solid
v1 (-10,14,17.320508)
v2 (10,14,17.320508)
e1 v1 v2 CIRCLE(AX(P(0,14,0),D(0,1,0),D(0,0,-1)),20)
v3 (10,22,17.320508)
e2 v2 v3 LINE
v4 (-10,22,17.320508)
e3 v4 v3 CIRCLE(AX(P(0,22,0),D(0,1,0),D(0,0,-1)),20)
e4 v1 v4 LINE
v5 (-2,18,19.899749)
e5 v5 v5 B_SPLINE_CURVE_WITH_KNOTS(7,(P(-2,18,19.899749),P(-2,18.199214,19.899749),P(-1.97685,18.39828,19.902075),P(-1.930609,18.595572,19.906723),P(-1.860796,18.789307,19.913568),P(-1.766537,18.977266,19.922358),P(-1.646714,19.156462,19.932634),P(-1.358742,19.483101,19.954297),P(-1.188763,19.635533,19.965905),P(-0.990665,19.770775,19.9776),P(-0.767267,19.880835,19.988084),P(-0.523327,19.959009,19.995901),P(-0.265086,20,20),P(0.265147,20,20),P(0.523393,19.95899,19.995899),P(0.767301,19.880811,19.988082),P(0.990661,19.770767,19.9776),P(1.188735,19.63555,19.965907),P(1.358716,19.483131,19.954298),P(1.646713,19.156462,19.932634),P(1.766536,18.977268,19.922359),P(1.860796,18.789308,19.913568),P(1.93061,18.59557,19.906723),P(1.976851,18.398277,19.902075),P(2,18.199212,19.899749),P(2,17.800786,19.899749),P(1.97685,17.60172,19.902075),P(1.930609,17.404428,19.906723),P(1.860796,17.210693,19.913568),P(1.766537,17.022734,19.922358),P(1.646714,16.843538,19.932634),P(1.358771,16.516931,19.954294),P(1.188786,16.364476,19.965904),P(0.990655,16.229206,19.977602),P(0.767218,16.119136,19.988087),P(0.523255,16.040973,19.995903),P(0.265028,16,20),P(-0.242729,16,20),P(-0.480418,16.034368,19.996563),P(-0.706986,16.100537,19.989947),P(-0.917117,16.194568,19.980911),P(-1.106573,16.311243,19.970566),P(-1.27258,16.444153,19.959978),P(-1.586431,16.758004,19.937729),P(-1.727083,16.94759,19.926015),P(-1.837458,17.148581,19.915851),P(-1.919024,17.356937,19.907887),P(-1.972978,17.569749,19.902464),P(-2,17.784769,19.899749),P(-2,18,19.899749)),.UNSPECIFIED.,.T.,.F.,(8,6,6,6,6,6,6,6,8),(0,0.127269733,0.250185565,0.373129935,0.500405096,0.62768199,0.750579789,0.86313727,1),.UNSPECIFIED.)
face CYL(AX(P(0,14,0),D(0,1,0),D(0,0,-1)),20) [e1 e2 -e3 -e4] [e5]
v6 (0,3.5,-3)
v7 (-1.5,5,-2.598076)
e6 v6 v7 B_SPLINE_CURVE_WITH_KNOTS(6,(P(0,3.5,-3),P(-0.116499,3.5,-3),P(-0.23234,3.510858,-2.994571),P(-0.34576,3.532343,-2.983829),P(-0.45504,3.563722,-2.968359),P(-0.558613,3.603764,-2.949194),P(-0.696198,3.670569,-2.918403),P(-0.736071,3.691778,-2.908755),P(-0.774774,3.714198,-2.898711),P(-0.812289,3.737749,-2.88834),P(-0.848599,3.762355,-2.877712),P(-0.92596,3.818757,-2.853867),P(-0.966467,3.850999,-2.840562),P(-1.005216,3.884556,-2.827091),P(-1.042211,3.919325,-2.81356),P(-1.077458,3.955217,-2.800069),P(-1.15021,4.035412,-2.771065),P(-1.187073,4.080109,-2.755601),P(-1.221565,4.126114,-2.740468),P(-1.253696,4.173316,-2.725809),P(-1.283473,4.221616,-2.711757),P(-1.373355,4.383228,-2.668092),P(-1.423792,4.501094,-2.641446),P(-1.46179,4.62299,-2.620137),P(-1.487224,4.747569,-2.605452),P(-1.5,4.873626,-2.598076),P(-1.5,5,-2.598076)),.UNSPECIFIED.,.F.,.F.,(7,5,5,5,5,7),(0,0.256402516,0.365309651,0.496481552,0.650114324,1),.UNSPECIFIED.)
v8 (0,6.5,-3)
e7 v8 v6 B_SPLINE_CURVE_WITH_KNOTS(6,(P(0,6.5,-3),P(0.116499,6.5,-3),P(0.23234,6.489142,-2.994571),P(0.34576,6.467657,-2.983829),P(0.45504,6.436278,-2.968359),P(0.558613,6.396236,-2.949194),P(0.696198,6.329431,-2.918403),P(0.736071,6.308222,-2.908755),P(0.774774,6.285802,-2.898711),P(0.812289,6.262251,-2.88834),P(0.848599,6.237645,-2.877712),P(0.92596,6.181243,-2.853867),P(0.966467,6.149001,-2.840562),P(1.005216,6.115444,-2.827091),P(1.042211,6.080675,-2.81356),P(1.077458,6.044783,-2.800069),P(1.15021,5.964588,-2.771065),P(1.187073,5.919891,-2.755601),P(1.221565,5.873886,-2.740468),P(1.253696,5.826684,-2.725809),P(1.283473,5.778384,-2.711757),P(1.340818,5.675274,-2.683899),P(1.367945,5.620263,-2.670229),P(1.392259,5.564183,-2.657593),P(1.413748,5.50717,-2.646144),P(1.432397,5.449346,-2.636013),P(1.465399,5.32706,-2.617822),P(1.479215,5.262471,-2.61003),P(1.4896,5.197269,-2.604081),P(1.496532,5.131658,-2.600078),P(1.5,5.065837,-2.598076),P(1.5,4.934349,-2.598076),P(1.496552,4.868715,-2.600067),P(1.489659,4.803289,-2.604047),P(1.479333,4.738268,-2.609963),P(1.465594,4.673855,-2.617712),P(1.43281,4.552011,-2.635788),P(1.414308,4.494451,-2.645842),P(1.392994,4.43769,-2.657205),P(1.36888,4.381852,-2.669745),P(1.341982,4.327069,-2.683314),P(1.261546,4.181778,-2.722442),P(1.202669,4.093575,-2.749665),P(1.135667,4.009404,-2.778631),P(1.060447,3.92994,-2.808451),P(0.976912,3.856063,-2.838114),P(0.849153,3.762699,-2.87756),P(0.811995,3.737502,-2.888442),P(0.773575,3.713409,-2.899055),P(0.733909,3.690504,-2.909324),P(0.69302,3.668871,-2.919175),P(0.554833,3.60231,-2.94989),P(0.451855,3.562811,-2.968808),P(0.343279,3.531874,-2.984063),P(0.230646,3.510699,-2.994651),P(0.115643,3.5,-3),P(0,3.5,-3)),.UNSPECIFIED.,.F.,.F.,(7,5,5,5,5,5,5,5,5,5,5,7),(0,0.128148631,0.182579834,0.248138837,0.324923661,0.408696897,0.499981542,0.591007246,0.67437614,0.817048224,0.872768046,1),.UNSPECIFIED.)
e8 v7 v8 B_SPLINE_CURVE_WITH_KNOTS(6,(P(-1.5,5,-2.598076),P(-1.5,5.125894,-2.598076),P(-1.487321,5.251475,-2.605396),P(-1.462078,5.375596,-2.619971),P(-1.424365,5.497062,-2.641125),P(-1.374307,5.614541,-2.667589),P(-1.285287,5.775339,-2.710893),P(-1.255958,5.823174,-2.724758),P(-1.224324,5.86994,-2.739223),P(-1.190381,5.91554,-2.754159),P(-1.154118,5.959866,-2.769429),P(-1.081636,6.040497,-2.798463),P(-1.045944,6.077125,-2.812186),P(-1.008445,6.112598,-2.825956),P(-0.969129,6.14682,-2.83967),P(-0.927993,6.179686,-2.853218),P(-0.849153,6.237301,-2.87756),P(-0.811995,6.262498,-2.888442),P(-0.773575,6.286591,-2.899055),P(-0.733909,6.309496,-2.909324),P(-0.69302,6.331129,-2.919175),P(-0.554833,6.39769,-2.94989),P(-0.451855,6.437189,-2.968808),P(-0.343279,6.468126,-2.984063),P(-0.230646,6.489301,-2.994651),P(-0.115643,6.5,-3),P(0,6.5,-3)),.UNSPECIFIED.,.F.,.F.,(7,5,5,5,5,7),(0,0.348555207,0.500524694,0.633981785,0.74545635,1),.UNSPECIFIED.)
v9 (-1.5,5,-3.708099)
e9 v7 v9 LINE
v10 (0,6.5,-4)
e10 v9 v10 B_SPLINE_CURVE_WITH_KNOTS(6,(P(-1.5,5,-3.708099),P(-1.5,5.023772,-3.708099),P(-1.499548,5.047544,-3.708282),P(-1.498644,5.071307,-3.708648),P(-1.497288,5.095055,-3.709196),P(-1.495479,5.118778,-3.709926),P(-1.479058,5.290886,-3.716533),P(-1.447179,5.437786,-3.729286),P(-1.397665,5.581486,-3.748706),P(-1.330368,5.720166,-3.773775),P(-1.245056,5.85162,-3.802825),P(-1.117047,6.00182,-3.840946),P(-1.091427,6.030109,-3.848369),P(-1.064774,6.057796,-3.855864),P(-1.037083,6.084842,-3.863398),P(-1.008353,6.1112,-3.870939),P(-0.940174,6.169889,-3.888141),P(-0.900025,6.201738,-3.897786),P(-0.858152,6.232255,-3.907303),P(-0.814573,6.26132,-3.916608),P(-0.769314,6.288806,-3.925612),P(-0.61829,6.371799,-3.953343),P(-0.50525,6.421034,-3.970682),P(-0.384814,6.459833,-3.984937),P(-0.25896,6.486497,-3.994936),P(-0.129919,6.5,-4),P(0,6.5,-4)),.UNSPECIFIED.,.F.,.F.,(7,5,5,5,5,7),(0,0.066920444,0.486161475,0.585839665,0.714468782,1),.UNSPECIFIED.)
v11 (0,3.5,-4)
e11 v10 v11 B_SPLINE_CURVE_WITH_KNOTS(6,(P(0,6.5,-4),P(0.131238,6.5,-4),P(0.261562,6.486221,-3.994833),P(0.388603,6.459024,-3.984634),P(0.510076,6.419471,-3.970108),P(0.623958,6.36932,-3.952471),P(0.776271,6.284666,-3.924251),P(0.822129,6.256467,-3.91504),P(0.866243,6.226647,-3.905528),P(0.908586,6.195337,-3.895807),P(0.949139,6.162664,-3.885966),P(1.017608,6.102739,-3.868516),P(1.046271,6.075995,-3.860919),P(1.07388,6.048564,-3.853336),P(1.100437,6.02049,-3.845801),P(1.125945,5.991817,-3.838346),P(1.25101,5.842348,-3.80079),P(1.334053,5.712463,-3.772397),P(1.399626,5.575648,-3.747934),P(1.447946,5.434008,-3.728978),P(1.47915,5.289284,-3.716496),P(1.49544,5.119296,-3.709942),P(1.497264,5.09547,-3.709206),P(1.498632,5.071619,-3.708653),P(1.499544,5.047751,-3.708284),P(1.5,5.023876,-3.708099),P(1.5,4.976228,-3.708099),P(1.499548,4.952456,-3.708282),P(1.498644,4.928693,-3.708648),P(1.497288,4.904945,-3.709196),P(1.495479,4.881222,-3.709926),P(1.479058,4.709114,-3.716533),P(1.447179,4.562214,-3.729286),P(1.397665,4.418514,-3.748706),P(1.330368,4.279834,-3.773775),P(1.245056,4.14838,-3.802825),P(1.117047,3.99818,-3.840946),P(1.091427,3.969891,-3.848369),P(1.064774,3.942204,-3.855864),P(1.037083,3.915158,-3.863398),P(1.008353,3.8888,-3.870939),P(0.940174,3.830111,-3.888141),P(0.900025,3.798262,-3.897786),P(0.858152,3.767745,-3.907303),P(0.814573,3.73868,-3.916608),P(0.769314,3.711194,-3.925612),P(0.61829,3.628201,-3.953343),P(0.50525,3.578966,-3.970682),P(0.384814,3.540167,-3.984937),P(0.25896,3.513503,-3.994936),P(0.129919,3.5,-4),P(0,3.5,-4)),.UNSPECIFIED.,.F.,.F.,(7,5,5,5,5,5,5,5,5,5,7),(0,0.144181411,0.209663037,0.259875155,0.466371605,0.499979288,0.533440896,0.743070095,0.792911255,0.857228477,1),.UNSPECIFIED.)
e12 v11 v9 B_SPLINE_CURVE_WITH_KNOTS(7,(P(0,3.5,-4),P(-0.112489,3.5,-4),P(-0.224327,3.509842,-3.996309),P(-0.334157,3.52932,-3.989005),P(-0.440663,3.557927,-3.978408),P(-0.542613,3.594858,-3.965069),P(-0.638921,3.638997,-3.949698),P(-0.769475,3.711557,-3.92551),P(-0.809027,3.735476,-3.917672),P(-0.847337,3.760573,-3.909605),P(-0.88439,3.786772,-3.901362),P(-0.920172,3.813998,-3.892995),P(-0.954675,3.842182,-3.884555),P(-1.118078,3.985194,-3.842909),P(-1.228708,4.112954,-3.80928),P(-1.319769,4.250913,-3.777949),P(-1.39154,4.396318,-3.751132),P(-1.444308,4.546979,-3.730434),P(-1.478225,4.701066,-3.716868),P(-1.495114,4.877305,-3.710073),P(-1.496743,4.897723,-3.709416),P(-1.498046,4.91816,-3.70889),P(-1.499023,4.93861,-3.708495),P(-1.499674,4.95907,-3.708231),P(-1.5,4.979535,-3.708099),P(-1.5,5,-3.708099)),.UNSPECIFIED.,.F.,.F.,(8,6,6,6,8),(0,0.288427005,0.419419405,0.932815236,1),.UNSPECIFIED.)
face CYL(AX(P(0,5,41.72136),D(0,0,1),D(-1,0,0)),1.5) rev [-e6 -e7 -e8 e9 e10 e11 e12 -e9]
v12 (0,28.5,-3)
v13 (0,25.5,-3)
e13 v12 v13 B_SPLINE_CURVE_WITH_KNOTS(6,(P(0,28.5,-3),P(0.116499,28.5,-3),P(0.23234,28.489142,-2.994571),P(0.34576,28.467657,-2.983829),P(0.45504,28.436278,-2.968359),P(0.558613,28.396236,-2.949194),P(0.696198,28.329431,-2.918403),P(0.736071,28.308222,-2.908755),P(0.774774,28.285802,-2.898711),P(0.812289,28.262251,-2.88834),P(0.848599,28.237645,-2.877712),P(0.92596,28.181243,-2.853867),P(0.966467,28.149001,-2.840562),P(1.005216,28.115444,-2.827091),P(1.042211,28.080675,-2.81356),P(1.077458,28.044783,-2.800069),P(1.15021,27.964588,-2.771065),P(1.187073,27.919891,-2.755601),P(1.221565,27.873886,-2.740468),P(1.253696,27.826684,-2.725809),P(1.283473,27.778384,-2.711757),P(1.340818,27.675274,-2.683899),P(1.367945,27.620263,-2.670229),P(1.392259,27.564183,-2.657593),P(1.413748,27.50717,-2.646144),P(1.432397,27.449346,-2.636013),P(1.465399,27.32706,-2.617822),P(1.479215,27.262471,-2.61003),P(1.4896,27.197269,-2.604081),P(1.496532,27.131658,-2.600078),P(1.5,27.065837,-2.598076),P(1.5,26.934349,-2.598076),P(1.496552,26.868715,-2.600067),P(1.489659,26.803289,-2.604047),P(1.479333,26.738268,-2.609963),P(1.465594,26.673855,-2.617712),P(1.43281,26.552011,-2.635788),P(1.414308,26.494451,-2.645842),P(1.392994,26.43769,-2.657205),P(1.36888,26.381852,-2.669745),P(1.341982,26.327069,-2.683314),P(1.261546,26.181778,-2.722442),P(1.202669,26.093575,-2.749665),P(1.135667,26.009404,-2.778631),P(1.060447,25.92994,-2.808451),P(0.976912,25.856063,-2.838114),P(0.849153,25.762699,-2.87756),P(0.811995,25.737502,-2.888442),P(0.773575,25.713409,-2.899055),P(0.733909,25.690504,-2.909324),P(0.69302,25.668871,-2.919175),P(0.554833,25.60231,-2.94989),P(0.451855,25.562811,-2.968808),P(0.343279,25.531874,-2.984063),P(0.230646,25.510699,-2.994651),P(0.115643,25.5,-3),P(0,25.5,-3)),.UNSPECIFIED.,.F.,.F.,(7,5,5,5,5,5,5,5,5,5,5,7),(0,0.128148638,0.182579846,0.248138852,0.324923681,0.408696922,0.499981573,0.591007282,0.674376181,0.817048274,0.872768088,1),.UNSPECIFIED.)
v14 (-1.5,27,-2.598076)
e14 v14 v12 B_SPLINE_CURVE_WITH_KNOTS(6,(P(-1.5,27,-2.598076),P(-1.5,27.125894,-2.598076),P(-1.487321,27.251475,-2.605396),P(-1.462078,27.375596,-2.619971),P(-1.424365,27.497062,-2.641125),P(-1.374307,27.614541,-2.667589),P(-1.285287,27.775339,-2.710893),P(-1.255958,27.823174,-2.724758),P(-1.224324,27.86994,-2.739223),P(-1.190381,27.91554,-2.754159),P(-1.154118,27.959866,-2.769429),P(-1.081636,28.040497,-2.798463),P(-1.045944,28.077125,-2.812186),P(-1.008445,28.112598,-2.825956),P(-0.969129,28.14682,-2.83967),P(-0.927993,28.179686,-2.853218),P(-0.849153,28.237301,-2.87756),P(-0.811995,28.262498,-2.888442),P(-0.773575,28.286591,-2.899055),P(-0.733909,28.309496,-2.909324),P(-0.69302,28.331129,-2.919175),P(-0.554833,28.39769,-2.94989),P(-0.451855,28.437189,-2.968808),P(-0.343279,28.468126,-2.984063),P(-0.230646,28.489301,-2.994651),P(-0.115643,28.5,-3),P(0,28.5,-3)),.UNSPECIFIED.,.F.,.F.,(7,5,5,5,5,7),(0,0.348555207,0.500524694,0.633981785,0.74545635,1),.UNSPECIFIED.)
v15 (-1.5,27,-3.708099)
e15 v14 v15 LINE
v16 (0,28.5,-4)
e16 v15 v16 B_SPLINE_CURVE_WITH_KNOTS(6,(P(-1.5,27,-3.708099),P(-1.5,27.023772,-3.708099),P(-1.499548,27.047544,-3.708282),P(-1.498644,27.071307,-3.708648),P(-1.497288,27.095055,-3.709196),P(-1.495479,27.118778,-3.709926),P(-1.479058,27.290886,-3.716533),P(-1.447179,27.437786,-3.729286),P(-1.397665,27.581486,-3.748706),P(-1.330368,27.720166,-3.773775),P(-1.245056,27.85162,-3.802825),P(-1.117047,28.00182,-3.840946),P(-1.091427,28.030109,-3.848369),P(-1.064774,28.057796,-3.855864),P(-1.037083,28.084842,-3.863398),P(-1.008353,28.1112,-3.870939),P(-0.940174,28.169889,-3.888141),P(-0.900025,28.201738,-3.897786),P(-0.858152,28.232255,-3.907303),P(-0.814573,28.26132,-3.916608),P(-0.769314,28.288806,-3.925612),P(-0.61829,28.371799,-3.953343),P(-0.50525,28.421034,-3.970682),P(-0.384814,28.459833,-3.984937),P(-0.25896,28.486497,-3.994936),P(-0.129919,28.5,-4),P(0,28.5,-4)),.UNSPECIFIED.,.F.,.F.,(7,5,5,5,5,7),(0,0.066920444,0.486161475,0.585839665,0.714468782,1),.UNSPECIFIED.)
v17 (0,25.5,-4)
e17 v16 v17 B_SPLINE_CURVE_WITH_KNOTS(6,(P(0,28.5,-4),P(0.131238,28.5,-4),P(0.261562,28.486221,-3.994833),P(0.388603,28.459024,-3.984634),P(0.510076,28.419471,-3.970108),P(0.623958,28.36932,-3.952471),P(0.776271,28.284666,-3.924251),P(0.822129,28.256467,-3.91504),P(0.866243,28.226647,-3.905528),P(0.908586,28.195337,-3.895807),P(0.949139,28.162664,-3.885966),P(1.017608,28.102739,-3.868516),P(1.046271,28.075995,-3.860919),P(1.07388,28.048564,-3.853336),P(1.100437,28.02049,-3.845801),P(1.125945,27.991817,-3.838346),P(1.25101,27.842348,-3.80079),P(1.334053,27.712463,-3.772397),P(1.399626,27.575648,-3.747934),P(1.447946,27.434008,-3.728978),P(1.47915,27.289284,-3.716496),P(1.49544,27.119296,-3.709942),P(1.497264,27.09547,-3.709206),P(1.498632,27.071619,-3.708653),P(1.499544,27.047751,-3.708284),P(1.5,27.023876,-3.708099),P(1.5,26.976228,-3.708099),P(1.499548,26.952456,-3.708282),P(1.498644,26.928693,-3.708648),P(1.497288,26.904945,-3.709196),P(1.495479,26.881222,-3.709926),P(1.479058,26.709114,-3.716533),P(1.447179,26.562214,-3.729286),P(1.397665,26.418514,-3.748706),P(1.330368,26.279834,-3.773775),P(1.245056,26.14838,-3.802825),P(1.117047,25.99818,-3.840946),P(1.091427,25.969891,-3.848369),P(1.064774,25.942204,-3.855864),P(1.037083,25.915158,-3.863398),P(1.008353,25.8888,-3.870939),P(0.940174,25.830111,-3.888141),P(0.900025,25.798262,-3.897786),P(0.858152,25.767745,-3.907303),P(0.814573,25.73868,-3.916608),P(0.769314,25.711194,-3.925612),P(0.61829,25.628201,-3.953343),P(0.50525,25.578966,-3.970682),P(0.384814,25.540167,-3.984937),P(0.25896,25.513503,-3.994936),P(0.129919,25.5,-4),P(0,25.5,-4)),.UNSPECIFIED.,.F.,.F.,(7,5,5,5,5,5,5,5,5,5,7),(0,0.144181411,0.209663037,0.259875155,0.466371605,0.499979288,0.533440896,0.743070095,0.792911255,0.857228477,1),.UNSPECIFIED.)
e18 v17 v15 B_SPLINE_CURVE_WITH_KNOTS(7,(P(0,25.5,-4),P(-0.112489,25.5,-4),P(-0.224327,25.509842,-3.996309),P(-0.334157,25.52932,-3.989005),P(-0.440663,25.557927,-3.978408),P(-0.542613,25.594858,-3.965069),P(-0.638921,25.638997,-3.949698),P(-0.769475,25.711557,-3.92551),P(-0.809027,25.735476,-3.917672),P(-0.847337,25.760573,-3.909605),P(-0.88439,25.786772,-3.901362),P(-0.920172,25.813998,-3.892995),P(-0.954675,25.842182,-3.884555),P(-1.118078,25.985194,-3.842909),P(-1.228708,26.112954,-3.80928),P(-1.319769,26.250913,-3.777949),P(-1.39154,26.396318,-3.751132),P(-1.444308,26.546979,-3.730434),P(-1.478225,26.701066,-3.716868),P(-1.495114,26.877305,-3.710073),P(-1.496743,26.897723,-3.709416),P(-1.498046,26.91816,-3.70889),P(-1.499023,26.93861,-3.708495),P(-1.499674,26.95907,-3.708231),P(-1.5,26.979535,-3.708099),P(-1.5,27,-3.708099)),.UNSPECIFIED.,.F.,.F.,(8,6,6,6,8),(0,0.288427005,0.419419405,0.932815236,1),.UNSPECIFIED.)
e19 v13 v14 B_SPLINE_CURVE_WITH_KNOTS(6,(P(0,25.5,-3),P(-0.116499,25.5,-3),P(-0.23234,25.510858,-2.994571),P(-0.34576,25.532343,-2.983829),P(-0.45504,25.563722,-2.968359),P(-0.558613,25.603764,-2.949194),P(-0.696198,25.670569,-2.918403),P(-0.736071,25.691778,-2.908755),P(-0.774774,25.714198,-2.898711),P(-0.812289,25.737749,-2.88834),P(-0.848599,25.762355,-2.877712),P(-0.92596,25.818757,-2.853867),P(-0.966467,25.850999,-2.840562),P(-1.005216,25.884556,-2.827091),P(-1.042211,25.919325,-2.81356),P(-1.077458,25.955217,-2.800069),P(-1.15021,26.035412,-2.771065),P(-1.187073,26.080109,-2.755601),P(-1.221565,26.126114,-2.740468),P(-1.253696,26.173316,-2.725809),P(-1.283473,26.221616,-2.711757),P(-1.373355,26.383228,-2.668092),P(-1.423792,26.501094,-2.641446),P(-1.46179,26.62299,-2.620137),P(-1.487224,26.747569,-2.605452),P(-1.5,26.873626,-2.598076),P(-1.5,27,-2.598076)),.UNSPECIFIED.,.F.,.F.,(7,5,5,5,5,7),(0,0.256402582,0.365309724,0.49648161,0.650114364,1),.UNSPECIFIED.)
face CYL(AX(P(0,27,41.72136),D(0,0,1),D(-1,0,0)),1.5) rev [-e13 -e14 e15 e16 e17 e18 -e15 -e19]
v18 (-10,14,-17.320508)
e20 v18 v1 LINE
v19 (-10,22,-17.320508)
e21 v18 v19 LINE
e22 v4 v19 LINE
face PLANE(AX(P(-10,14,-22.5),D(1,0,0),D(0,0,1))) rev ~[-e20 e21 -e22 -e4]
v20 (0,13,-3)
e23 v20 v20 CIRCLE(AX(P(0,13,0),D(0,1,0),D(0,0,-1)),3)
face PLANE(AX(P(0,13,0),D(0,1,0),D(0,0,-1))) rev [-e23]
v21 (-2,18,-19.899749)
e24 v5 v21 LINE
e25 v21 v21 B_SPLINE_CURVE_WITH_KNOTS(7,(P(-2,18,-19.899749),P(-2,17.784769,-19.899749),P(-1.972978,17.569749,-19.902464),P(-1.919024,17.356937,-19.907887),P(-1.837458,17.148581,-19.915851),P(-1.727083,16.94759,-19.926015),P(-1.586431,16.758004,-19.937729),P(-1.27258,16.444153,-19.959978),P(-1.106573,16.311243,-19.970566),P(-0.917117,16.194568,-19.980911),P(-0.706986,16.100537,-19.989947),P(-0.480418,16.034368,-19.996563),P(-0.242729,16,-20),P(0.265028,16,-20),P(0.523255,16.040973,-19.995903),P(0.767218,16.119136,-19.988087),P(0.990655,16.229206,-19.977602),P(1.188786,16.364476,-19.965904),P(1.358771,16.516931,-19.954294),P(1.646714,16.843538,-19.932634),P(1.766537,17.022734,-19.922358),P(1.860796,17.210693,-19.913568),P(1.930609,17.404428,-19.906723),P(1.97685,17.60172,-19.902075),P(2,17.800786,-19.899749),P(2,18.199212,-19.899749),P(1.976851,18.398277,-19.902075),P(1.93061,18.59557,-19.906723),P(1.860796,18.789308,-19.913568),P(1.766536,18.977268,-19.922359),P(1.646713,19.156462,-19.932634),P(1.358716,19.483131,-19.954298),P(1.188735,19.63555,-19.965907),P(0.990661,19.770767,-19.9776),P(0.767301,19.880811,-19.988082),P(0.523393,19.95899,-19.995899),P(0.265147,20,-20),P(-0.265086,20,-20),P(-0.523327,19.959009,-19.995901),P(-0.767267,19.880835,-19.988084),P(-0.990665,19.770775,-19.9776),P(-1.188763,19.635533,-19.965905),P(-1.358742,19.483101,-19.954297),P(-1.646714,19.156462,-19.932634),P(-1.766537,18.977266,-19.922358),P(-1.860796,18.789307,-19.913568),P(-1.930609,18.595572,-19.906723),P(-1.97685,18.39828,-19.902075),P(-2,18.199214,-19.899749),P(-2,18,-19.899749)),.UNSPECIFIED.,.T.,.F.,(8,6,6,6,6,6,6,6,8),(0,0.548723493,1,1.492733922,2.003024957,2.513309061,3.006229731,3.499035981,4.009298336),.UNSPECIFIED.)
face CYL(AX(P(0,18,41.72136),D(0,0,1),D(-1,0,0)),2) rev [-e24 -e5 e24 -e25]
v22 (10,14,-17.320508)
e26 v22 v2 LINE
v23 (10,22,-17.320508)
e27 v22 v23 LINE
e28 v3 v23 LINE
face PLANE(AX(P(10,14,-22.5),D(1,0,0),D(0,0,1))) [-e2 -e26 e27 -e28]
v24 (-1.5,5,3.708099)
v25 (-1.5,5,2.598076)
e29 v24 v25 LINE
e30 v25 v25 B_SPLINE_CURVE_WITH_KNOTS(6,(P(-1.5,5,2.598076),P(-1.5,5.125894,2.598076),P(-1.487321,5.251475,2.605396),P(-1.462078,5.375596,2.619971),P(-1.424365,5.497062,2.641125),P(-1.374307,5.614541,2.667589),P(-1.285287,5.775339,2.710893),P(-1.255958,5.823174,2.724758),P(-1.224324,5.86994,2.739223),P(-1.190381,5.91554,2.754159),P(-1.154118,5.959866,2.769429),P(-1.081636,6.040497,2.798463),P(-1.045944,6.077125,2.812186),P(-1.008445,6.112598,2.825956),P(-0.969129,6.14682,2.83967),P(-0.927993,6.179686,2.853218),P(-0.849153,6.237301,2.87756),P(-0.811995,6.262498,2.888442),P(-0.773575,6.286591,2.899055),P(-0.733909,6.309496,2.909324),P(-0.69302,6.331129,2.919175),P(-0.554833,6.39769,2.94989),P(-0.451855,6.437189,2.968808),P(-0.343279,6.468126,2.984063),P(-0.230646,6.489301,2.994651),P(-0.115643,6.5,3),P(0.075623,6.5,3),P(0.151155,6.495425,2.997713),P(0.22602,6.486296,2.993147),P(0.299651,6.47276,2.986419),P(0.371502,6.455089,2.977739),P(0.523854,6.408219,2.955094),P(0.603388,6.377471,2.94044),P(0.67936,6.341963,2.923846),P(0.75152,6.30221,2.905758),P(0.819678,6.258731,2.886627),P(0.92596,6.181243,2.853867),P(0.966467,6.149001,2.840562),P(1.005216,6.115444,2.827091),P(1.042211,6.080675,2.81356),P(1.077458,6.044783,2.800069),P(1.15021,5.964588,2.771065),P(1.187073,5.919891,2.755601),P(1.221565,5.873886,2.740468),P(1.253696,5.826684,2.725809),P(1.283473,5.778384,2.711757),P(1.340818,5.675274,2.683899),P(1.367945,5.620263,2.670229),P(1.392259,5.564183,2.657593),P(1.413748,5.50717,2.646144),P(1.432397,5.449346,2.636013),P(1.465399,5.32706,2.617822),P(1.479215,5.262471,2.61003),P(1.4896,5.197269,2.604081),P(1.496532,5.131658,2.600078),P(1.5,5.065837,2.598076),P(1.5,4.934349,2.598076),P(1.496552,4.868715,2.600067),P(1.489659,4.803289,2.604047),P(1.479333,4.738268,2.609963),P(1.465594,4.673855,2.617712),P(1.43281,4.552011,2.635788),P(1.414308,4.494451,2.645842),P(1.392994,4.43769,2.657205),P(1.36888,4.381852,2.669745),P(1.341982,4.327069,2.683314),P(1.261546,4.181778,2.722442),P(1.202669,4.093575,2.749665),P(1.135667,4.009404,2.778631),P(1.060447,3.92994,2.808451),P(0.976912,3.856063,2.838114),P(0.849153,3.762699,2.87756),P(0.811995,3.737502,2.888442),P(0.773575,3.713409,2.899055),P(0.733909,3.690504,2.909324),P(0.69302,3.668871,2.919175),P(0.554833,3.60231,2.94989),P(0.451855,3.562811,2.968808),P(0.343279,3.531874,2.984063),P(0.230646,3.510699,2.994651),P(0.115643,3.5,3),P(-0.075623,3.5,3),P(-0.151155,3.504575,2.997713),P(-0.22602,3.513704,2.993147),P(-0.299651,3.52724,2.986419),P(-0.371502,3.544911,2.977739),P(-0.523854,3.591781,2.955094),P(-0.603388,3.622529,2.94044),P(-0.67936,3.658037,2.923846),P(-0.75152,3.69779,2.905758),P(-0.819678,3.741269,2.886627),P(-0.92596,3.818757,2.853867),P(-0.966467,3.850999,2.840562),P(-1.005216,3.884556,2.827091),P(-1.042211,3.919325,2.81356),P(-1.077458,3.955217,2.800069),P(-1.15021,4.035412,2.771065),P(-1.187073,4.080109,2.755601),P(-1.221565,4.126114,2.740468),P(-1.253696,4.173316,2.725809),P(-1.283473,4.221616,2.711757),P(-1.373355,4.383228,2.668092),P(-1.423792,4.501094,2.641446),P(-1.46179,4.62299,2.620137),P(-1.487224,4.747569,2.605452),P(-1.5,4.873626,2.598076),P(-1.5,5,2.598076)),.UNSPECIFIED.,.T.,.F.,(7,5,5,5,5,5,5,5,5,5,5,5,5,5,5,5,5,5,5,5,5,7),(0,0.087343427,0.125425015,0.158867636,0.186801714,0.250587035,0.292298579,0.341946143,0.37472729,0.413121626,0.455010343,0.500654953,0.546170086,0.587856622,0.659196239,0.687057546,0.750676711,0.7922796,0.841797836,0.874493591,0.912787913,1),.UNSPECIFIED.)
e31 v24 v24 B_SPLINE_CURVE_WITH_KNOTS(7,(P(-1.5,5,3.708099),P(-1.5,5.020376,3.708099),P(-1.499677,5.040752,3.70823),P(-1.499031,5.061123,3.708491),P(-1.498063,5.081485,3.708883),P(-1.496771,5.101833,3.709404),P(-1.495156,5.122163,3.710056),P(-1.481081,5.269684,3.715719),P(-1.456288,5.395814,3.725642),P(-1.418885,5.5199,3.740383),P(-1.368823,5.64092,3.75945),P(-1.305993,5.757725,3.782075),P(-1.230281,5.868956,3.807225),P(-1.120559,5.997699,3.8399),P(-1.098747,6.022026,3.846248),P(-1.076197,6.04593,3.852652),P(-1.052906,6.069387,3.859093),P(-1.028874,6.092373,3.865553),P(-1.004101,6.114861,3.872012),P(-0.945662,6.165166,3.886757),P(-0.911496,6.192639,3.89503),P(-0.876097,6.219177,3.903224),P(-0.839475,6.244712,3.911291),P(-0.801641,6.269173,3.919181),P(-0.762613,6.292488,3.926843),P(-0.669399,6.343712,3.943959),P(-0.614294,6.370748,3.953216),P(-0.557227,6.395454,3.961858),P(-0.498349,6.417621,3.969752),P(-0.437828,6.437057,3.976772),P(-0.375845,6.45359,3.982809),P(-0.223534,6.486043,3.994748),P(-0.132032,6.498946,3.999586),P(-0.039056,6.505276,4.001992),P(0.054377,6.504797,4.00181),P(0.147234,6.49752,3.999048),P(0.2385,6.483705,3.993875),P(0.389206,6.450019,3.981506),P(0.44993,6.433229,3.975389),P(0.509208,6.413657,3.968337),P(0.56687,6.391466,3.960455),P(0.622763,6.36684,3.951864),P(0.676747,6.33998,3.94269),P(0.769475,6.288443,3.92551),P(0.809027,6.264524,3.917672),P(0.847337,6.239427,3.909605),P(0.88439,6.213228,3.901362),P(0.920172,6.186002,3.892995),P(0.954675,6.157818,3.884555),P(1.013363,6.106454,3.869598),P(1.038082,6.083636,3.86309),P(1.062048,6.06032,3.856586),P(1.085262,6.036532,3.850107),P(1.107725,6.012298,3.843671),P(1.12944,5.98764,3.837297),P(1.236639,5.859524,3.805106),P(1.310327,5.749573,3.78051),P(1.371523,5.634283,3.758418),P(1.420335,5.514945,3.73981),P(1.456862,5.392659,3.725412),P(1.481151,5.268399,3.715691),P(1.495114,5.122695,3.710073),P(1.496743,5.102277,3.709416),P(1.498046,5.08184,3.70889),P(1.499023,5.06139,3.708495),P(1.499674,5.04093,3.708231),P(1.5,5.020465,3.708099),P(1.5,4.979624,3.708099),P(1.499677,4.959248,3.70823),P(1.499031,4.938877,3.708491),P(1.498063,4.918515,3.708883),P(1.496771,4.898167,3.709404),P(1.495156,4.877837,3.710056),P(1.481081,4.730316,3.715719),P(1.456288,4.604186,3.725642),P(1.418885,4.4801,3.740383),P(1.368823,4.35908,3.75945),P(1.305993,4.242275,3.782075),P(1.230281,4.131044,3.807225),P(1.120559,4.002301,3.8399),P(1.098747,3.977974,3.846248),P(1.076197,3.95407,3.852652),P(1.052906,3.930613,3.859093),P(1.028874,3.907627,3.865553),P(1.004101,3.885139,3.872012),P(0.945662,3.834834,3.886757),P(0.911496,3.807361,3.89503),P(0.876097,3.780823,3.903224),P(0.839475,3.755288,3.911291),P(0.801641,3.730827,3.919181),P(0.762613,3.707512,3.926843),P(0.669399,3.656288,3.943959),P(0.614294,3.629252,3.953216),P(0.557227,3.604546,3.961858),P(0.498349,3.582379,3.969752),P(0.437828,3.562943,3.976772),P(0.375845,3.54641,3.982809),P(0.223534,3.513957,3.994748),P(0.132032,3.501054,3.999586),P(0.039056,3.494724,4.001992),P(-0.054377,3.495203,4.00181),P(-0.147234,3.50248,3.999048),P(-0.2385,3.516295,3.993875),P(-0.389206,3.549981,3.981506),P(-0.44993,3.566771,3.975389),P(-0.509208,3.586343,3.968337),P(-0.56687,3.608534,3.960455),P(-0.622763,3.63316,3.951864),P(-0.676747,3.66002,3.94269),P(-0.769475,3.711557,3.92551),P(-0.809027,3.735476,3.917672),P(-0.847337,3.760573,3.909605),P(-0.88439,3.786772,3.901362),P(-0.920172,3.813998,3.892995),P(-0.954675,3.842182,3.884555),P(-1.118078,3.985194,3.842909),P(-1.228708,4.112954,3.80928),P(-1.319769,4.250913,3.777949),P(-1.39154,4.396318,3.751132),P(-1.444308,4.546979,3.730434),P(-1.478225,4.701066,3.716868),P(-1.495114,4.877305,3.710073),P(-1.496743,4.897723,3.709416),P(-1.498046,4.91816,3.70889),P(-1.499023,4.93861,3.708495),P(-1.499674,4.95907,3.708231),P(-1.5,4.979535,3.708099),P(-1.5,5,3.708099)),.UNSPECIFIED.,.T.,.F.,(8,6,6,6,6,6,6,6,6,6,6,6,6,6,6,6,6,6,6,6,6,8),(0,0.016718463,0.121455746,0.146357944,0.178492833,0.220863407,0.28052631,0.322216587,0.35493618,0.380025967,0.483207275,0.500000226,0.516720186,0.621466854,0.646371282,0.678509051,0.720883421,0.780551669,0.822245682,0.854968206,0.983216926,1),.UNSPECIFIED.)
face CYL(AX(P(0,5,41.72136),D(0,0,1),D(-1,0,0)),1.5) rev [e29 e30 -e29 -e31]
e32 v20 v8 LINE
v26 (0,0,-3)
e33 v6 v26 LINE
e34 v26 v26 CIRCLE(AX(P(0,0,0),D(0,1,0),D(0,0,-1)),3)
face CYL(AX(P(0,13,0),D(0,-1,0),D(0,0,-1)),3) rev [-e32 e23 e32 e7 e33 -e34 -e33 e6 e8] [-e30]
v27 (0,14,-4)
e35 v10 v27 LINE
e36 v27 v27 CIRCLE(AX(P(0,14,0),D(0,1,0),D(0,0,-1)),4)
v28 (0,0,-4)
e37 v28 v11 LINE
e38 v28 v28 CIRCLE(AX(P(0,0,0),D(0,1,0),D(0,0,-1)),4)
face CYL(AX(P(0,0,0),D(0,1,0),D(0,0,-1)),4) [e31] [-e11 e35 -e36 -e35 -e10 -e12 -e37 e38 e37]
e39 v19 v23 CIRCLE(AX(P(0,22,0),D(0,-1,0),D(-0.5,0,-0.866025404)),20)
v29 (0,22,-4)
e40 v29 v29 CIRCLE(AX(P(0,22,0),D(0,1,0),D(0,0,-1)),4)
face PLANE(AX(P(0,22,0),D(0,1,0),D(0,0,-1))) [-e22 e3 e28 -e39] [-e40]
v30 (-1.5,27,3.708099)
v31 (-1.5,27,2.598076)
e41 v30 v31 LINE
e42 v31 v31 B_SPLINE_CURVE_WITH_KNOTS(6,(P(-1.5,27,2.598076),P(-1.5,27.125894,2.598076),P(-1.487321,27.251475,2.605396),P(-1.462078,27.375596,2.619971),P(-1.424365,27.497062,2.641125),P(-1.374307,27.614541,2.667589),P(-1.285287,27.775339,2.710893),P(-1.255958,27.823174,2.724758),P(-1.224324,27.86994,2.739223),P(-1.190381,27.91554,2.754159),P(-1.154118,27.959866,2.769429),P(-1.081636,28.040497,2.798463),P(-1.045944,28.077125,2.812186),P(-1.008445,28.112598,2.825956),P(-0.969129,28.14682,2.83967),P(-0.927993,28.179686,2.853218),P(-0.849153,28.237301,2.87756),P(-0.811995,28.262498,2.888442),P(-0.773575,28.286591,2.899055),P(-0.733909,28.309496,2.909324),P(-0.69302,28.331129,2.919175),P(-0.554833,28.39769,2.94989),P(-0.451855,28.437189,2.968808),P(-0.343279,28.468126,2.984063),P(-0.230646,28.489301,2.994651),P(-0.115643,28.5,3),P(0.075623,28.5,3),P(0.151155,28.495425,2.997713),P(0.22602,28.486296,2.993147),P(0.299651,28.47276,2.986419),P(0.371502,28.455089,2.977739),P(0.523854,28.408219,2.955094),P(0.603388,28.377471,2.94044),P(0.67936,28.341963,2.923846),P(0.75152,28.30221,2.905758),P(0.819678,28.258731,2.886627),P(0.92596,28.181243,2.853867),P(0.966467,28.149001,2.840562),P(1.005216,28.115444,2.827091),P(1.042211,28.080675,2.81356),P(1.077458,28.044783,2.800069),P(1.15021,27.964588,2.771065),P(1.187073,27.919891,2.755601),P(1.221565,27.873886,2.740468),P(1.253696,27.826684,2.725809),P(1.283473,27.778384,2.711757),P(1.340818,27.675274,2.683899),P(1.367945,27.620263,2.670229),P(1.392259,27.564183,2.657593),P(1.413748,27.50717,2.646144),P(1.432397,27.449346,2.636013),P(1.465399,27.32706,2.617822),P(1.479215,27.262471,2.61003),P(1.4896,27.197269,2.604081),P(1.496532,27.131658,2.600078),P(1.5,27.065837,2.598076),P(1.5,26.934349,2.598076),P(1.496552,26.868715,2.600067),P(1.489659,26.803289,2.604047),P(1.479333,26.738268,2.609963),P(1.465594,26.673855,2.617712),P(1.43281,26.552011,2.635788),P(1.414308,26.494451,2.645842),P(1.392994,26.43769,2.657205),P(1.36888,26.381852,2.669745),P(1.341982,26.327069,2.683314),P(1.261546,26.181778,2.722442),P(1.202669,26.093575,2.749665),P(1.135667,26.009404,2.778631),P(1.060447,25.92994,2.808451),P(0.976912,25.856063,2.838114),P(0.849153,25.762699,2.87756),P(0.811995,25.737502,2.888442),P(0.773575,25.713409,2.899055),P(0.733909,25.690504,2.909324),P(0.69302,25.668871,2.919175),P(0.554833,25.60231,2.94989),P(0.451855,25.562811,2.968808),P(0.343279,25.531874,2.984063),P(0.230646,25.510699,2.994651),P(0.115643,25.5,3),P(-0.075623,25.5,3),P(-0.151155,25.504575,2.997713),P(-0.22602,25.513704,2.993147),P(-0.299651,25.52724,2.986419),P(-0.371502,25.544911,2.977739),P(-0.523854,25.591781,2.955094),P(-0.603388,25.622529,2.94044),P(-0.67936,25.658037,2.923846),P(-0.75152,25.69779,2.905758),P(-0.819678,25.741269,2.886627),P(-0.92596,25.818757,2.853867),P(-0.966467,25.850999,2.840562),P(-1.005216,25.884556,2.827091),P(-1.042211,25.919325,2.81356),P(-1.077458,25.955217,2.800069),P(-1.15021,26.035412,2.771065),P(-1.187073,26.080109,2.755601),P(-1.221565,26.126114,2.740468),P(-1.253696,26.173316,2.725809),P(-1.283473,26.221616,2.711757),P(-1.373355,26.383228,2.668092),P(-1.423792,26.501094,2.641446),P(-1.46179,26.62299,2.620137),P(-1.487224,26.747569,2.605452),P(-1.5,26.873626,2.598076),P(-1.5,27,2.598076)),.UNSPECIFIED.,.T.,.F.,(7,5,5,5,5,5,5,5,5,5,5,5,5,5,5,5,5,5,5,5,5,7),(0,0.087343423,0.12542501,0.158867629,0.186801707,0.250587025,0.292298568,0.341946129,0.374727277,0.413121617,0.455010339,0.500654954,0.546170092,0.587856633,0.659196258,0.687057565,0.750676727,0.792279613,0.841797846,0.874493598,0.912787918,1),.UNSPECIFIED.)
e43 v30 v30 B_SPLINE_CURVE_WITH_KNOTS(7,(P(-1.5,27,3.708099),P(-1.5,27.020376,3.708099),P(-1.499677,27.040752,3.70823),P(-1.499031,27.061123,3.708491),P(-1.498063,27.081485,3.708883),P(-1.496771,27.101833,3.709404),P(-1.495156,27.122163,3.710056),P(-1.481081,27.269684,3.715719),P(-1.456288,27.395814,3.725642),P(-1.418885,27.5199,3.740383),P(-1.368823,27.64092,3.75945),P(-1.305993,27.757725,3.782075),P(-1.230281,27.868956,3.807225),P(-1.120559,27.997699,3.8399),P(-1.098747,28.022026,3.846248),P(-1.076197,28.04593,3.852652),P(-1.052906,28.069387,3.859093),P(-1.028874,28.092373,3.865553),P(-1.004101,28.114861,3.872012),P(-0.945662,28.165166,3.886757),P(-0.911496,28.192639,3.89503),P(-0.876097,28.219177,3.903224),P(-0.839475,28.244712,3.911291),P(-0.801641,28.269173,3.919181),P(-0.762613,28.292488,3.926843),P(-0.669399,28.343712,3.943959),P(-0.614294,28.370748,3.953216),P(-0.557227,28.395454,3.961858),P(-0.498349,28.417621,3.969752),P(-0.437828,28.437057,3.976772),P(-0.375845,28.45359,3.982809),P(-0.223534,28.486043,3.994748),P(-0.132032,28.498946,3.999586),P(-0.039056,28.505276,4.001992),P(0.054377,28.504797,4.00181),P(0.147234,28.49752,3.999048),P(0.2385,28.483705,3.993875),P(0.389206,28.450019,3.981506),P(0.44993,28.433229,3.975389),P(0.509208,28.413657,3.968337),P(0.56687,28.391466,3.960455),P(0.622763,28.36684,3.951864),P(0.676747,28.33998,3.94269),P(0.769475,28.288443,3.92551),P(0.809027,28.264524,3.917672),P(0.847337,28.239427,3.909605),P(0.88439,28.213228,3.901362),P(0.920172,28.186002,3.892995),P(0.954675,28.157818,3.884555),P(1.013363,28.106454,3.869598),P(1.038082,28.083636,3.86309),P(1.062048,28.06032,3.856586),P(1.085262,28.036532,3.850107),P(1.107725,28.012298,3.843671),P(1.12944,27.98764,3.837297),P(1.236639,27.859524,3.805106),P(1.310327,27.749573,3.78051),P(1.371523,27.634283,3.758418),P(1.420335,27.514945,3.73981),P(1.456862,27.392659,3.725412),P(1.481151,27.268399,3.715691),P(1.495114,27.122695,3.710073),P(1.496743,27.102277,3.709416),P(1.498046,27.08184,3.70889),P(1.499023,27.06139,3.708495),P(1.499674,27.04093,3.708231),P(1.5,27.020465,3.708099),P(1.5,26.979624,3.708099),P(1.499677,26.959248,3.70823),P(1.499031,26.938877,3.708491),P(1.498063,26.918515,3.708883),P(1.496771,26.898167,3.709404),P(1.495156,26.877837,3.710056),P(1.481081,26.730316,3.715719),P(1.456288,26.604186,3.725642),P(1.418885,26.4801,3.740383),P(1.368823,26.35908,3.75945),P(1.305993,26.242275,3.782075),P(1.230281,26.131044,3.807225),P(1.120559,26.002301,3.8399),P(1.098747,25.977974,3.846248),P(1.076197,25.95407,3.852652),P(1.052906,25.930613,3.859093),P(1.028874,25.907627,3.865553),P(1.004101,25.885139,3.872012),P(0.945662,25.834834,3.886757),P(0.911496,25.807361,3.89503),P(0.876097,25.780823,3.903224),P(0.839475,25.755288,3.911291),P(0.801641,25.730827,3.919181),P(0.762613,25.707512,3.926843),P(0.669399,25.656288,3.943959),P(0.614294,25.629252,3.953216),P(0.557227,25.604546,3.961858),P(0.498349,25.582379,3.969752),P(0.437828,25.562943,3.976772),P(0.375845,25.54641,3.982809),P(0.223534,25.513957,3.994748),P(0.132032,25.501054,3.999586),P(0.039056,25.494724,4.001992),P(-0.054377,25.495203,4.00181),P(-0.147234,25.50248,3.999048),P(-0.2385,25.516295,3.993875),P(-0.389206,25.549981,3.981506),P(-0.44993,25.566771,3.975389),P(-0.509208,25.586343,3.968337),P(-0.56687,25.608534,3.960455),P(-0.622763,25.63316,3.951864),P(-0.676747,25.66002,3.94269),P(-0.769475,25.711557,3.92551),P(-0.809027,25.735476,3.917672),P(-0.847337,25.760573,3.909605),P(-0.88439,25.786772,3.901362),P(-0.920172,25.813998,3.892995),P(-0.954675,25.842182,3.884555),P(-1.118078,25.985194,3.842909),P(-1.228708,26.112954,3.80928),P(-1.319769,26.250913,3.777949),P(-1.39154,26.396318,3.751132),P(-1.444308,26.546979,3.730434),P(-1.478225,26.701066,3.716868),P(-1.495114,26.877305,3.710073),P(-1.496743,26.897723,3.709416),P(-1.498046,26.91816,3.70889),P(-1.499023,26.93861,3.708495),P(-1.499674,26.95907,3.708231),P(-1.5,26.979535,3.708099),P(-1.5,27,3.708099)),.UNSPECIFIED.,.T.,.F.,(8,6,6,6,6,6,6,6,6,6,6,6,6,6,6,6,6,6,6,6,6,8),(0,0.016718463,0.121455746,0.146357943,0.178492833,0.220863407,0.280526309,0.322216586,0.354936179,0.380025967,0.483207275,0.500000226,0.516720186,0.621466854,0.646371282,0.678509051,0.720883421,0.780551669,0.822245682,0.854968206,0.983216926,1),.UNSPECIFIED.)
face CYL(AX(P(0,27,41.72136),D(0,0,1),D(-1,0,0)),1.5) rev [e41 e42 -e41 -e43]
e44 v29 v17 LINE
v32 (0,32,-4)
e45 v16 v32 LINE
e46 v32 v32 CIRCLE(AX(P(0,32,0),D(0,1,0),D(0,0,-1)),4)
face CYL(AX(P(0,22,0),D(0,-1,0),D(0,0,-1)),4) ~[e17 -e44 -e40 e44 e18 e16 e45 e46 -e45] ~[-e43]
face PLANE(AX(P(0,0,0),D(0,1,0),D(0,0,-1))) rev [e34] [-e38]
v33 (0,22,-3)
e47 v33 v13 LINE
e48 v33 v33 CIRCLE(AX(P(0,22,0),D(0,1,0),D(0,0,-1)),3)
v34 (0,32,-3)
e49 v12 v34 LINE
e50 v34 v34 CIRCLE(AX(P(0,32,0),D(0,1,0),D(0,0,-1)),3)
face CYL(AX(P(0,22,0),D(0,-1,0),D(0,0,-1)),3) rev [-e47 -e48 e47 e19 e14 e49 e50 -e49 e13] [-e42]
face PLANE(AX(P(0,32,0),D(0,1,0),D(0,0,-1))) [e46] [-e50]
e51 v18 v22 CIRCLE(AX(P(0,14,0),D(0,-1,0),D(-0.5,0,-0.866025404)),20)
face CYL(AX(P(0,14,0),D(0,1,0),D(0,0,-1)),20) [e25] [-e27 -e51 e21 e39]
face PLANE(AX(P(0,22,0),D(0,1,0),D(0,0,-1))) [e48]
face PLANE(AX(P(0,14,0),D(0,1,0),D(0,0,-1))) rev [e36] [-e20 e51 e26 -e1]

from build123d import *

# Parameters (mm, degrees)
SKETCH2_R               = 4
SKETCH2_R_2             = 3
BOSS_EXTRUDE1_DEPTH     = 10
CUT_EXTRUDE1_DEPTH      = 45.72135955
CUT_EXTRUDE1_DEPTH_BACK = 45.72135955
SKETCH3_R               = 1.5
SKETCH3_R_2             = 2
SKETCH4_W               = 20
SKETCH4_H               = 45
CUT_EXTRUDE2_DEPTH      = 10


with BuildPart() as part:
    # Sketch1 → Revolve1 (revolve)
    with BuildSketch(Plane.XY, mode=Mode.PRIVATE) as revolve1_sk:
        Polygon((3, 0), (4, 0), (4, 14), (20, 14), (20, 22), (0, 22), (0, 13), (3, 13), align=None)
    revolve(revolve1_sk.sketch.rotate(Axis((0, 0, 0), (0, 1, 0)), 90), axis=Axis((0, 0, 0), (0, 1, 0)))

    # Sketch2 → Boss-Extrude1 (add)
    with BuildSketch(Plane(origin=(0, 22, 0), x_dir=(1, 0, 0), z_dir=(0, 1, 0))):
        with Locations(Location((0, 0, 0), (0, 0, 90))):
            Circle(SKETCH2_R)
        with Locations(Location((0, 0, 0), (0, 0, 90))):
            Circle(SKETCH2_R_2, mode=Mode.SUBTRACT)
    extrude(amount=BOSS_EXTRUDE1_DEPTH)

    # Sketch3 → Cut-Extrude1 (cut, two sides: drawn at the far end of the back side and taken through both)
    with BuildSketch(Plane(origin=(0, 0, -4), x_dir=(-1, 0, 0), z_dir=(0, 0, -1)).offset(-CUT_EXTRUDE1_DEPTH_BACK)):
        with Locations((0, 5)):
            Circle(SKETCH3_R)
        with Locations((0, 27)):
            Circle(SKETCH3_R)
        with Locations((0, 18)):
            Circle(SKETCH3_R_2)
    extrude(amount=CUT_EXTRUDE1_DEPTH + CUT_EXTRUDE1_DEPTH_BACK, mode=Mode.SUBTRACT)

    # Sketch4 → Cut-Extrude2 (cut)
    with BuildSketch(Plane.XZ.offset(-14)):
        with Locations((-20, 0)):
            Rectangle(SKETCH4_W, SKETCH4_H)
        with Locations((20, 0)):
            Rectangle(SKETCH4_W, SKETCH4_H)
    extrude(amount=-CUT_EXTRUDE2_DEPTH, mode=Mode.SUBTRACT)


solid = part.part
